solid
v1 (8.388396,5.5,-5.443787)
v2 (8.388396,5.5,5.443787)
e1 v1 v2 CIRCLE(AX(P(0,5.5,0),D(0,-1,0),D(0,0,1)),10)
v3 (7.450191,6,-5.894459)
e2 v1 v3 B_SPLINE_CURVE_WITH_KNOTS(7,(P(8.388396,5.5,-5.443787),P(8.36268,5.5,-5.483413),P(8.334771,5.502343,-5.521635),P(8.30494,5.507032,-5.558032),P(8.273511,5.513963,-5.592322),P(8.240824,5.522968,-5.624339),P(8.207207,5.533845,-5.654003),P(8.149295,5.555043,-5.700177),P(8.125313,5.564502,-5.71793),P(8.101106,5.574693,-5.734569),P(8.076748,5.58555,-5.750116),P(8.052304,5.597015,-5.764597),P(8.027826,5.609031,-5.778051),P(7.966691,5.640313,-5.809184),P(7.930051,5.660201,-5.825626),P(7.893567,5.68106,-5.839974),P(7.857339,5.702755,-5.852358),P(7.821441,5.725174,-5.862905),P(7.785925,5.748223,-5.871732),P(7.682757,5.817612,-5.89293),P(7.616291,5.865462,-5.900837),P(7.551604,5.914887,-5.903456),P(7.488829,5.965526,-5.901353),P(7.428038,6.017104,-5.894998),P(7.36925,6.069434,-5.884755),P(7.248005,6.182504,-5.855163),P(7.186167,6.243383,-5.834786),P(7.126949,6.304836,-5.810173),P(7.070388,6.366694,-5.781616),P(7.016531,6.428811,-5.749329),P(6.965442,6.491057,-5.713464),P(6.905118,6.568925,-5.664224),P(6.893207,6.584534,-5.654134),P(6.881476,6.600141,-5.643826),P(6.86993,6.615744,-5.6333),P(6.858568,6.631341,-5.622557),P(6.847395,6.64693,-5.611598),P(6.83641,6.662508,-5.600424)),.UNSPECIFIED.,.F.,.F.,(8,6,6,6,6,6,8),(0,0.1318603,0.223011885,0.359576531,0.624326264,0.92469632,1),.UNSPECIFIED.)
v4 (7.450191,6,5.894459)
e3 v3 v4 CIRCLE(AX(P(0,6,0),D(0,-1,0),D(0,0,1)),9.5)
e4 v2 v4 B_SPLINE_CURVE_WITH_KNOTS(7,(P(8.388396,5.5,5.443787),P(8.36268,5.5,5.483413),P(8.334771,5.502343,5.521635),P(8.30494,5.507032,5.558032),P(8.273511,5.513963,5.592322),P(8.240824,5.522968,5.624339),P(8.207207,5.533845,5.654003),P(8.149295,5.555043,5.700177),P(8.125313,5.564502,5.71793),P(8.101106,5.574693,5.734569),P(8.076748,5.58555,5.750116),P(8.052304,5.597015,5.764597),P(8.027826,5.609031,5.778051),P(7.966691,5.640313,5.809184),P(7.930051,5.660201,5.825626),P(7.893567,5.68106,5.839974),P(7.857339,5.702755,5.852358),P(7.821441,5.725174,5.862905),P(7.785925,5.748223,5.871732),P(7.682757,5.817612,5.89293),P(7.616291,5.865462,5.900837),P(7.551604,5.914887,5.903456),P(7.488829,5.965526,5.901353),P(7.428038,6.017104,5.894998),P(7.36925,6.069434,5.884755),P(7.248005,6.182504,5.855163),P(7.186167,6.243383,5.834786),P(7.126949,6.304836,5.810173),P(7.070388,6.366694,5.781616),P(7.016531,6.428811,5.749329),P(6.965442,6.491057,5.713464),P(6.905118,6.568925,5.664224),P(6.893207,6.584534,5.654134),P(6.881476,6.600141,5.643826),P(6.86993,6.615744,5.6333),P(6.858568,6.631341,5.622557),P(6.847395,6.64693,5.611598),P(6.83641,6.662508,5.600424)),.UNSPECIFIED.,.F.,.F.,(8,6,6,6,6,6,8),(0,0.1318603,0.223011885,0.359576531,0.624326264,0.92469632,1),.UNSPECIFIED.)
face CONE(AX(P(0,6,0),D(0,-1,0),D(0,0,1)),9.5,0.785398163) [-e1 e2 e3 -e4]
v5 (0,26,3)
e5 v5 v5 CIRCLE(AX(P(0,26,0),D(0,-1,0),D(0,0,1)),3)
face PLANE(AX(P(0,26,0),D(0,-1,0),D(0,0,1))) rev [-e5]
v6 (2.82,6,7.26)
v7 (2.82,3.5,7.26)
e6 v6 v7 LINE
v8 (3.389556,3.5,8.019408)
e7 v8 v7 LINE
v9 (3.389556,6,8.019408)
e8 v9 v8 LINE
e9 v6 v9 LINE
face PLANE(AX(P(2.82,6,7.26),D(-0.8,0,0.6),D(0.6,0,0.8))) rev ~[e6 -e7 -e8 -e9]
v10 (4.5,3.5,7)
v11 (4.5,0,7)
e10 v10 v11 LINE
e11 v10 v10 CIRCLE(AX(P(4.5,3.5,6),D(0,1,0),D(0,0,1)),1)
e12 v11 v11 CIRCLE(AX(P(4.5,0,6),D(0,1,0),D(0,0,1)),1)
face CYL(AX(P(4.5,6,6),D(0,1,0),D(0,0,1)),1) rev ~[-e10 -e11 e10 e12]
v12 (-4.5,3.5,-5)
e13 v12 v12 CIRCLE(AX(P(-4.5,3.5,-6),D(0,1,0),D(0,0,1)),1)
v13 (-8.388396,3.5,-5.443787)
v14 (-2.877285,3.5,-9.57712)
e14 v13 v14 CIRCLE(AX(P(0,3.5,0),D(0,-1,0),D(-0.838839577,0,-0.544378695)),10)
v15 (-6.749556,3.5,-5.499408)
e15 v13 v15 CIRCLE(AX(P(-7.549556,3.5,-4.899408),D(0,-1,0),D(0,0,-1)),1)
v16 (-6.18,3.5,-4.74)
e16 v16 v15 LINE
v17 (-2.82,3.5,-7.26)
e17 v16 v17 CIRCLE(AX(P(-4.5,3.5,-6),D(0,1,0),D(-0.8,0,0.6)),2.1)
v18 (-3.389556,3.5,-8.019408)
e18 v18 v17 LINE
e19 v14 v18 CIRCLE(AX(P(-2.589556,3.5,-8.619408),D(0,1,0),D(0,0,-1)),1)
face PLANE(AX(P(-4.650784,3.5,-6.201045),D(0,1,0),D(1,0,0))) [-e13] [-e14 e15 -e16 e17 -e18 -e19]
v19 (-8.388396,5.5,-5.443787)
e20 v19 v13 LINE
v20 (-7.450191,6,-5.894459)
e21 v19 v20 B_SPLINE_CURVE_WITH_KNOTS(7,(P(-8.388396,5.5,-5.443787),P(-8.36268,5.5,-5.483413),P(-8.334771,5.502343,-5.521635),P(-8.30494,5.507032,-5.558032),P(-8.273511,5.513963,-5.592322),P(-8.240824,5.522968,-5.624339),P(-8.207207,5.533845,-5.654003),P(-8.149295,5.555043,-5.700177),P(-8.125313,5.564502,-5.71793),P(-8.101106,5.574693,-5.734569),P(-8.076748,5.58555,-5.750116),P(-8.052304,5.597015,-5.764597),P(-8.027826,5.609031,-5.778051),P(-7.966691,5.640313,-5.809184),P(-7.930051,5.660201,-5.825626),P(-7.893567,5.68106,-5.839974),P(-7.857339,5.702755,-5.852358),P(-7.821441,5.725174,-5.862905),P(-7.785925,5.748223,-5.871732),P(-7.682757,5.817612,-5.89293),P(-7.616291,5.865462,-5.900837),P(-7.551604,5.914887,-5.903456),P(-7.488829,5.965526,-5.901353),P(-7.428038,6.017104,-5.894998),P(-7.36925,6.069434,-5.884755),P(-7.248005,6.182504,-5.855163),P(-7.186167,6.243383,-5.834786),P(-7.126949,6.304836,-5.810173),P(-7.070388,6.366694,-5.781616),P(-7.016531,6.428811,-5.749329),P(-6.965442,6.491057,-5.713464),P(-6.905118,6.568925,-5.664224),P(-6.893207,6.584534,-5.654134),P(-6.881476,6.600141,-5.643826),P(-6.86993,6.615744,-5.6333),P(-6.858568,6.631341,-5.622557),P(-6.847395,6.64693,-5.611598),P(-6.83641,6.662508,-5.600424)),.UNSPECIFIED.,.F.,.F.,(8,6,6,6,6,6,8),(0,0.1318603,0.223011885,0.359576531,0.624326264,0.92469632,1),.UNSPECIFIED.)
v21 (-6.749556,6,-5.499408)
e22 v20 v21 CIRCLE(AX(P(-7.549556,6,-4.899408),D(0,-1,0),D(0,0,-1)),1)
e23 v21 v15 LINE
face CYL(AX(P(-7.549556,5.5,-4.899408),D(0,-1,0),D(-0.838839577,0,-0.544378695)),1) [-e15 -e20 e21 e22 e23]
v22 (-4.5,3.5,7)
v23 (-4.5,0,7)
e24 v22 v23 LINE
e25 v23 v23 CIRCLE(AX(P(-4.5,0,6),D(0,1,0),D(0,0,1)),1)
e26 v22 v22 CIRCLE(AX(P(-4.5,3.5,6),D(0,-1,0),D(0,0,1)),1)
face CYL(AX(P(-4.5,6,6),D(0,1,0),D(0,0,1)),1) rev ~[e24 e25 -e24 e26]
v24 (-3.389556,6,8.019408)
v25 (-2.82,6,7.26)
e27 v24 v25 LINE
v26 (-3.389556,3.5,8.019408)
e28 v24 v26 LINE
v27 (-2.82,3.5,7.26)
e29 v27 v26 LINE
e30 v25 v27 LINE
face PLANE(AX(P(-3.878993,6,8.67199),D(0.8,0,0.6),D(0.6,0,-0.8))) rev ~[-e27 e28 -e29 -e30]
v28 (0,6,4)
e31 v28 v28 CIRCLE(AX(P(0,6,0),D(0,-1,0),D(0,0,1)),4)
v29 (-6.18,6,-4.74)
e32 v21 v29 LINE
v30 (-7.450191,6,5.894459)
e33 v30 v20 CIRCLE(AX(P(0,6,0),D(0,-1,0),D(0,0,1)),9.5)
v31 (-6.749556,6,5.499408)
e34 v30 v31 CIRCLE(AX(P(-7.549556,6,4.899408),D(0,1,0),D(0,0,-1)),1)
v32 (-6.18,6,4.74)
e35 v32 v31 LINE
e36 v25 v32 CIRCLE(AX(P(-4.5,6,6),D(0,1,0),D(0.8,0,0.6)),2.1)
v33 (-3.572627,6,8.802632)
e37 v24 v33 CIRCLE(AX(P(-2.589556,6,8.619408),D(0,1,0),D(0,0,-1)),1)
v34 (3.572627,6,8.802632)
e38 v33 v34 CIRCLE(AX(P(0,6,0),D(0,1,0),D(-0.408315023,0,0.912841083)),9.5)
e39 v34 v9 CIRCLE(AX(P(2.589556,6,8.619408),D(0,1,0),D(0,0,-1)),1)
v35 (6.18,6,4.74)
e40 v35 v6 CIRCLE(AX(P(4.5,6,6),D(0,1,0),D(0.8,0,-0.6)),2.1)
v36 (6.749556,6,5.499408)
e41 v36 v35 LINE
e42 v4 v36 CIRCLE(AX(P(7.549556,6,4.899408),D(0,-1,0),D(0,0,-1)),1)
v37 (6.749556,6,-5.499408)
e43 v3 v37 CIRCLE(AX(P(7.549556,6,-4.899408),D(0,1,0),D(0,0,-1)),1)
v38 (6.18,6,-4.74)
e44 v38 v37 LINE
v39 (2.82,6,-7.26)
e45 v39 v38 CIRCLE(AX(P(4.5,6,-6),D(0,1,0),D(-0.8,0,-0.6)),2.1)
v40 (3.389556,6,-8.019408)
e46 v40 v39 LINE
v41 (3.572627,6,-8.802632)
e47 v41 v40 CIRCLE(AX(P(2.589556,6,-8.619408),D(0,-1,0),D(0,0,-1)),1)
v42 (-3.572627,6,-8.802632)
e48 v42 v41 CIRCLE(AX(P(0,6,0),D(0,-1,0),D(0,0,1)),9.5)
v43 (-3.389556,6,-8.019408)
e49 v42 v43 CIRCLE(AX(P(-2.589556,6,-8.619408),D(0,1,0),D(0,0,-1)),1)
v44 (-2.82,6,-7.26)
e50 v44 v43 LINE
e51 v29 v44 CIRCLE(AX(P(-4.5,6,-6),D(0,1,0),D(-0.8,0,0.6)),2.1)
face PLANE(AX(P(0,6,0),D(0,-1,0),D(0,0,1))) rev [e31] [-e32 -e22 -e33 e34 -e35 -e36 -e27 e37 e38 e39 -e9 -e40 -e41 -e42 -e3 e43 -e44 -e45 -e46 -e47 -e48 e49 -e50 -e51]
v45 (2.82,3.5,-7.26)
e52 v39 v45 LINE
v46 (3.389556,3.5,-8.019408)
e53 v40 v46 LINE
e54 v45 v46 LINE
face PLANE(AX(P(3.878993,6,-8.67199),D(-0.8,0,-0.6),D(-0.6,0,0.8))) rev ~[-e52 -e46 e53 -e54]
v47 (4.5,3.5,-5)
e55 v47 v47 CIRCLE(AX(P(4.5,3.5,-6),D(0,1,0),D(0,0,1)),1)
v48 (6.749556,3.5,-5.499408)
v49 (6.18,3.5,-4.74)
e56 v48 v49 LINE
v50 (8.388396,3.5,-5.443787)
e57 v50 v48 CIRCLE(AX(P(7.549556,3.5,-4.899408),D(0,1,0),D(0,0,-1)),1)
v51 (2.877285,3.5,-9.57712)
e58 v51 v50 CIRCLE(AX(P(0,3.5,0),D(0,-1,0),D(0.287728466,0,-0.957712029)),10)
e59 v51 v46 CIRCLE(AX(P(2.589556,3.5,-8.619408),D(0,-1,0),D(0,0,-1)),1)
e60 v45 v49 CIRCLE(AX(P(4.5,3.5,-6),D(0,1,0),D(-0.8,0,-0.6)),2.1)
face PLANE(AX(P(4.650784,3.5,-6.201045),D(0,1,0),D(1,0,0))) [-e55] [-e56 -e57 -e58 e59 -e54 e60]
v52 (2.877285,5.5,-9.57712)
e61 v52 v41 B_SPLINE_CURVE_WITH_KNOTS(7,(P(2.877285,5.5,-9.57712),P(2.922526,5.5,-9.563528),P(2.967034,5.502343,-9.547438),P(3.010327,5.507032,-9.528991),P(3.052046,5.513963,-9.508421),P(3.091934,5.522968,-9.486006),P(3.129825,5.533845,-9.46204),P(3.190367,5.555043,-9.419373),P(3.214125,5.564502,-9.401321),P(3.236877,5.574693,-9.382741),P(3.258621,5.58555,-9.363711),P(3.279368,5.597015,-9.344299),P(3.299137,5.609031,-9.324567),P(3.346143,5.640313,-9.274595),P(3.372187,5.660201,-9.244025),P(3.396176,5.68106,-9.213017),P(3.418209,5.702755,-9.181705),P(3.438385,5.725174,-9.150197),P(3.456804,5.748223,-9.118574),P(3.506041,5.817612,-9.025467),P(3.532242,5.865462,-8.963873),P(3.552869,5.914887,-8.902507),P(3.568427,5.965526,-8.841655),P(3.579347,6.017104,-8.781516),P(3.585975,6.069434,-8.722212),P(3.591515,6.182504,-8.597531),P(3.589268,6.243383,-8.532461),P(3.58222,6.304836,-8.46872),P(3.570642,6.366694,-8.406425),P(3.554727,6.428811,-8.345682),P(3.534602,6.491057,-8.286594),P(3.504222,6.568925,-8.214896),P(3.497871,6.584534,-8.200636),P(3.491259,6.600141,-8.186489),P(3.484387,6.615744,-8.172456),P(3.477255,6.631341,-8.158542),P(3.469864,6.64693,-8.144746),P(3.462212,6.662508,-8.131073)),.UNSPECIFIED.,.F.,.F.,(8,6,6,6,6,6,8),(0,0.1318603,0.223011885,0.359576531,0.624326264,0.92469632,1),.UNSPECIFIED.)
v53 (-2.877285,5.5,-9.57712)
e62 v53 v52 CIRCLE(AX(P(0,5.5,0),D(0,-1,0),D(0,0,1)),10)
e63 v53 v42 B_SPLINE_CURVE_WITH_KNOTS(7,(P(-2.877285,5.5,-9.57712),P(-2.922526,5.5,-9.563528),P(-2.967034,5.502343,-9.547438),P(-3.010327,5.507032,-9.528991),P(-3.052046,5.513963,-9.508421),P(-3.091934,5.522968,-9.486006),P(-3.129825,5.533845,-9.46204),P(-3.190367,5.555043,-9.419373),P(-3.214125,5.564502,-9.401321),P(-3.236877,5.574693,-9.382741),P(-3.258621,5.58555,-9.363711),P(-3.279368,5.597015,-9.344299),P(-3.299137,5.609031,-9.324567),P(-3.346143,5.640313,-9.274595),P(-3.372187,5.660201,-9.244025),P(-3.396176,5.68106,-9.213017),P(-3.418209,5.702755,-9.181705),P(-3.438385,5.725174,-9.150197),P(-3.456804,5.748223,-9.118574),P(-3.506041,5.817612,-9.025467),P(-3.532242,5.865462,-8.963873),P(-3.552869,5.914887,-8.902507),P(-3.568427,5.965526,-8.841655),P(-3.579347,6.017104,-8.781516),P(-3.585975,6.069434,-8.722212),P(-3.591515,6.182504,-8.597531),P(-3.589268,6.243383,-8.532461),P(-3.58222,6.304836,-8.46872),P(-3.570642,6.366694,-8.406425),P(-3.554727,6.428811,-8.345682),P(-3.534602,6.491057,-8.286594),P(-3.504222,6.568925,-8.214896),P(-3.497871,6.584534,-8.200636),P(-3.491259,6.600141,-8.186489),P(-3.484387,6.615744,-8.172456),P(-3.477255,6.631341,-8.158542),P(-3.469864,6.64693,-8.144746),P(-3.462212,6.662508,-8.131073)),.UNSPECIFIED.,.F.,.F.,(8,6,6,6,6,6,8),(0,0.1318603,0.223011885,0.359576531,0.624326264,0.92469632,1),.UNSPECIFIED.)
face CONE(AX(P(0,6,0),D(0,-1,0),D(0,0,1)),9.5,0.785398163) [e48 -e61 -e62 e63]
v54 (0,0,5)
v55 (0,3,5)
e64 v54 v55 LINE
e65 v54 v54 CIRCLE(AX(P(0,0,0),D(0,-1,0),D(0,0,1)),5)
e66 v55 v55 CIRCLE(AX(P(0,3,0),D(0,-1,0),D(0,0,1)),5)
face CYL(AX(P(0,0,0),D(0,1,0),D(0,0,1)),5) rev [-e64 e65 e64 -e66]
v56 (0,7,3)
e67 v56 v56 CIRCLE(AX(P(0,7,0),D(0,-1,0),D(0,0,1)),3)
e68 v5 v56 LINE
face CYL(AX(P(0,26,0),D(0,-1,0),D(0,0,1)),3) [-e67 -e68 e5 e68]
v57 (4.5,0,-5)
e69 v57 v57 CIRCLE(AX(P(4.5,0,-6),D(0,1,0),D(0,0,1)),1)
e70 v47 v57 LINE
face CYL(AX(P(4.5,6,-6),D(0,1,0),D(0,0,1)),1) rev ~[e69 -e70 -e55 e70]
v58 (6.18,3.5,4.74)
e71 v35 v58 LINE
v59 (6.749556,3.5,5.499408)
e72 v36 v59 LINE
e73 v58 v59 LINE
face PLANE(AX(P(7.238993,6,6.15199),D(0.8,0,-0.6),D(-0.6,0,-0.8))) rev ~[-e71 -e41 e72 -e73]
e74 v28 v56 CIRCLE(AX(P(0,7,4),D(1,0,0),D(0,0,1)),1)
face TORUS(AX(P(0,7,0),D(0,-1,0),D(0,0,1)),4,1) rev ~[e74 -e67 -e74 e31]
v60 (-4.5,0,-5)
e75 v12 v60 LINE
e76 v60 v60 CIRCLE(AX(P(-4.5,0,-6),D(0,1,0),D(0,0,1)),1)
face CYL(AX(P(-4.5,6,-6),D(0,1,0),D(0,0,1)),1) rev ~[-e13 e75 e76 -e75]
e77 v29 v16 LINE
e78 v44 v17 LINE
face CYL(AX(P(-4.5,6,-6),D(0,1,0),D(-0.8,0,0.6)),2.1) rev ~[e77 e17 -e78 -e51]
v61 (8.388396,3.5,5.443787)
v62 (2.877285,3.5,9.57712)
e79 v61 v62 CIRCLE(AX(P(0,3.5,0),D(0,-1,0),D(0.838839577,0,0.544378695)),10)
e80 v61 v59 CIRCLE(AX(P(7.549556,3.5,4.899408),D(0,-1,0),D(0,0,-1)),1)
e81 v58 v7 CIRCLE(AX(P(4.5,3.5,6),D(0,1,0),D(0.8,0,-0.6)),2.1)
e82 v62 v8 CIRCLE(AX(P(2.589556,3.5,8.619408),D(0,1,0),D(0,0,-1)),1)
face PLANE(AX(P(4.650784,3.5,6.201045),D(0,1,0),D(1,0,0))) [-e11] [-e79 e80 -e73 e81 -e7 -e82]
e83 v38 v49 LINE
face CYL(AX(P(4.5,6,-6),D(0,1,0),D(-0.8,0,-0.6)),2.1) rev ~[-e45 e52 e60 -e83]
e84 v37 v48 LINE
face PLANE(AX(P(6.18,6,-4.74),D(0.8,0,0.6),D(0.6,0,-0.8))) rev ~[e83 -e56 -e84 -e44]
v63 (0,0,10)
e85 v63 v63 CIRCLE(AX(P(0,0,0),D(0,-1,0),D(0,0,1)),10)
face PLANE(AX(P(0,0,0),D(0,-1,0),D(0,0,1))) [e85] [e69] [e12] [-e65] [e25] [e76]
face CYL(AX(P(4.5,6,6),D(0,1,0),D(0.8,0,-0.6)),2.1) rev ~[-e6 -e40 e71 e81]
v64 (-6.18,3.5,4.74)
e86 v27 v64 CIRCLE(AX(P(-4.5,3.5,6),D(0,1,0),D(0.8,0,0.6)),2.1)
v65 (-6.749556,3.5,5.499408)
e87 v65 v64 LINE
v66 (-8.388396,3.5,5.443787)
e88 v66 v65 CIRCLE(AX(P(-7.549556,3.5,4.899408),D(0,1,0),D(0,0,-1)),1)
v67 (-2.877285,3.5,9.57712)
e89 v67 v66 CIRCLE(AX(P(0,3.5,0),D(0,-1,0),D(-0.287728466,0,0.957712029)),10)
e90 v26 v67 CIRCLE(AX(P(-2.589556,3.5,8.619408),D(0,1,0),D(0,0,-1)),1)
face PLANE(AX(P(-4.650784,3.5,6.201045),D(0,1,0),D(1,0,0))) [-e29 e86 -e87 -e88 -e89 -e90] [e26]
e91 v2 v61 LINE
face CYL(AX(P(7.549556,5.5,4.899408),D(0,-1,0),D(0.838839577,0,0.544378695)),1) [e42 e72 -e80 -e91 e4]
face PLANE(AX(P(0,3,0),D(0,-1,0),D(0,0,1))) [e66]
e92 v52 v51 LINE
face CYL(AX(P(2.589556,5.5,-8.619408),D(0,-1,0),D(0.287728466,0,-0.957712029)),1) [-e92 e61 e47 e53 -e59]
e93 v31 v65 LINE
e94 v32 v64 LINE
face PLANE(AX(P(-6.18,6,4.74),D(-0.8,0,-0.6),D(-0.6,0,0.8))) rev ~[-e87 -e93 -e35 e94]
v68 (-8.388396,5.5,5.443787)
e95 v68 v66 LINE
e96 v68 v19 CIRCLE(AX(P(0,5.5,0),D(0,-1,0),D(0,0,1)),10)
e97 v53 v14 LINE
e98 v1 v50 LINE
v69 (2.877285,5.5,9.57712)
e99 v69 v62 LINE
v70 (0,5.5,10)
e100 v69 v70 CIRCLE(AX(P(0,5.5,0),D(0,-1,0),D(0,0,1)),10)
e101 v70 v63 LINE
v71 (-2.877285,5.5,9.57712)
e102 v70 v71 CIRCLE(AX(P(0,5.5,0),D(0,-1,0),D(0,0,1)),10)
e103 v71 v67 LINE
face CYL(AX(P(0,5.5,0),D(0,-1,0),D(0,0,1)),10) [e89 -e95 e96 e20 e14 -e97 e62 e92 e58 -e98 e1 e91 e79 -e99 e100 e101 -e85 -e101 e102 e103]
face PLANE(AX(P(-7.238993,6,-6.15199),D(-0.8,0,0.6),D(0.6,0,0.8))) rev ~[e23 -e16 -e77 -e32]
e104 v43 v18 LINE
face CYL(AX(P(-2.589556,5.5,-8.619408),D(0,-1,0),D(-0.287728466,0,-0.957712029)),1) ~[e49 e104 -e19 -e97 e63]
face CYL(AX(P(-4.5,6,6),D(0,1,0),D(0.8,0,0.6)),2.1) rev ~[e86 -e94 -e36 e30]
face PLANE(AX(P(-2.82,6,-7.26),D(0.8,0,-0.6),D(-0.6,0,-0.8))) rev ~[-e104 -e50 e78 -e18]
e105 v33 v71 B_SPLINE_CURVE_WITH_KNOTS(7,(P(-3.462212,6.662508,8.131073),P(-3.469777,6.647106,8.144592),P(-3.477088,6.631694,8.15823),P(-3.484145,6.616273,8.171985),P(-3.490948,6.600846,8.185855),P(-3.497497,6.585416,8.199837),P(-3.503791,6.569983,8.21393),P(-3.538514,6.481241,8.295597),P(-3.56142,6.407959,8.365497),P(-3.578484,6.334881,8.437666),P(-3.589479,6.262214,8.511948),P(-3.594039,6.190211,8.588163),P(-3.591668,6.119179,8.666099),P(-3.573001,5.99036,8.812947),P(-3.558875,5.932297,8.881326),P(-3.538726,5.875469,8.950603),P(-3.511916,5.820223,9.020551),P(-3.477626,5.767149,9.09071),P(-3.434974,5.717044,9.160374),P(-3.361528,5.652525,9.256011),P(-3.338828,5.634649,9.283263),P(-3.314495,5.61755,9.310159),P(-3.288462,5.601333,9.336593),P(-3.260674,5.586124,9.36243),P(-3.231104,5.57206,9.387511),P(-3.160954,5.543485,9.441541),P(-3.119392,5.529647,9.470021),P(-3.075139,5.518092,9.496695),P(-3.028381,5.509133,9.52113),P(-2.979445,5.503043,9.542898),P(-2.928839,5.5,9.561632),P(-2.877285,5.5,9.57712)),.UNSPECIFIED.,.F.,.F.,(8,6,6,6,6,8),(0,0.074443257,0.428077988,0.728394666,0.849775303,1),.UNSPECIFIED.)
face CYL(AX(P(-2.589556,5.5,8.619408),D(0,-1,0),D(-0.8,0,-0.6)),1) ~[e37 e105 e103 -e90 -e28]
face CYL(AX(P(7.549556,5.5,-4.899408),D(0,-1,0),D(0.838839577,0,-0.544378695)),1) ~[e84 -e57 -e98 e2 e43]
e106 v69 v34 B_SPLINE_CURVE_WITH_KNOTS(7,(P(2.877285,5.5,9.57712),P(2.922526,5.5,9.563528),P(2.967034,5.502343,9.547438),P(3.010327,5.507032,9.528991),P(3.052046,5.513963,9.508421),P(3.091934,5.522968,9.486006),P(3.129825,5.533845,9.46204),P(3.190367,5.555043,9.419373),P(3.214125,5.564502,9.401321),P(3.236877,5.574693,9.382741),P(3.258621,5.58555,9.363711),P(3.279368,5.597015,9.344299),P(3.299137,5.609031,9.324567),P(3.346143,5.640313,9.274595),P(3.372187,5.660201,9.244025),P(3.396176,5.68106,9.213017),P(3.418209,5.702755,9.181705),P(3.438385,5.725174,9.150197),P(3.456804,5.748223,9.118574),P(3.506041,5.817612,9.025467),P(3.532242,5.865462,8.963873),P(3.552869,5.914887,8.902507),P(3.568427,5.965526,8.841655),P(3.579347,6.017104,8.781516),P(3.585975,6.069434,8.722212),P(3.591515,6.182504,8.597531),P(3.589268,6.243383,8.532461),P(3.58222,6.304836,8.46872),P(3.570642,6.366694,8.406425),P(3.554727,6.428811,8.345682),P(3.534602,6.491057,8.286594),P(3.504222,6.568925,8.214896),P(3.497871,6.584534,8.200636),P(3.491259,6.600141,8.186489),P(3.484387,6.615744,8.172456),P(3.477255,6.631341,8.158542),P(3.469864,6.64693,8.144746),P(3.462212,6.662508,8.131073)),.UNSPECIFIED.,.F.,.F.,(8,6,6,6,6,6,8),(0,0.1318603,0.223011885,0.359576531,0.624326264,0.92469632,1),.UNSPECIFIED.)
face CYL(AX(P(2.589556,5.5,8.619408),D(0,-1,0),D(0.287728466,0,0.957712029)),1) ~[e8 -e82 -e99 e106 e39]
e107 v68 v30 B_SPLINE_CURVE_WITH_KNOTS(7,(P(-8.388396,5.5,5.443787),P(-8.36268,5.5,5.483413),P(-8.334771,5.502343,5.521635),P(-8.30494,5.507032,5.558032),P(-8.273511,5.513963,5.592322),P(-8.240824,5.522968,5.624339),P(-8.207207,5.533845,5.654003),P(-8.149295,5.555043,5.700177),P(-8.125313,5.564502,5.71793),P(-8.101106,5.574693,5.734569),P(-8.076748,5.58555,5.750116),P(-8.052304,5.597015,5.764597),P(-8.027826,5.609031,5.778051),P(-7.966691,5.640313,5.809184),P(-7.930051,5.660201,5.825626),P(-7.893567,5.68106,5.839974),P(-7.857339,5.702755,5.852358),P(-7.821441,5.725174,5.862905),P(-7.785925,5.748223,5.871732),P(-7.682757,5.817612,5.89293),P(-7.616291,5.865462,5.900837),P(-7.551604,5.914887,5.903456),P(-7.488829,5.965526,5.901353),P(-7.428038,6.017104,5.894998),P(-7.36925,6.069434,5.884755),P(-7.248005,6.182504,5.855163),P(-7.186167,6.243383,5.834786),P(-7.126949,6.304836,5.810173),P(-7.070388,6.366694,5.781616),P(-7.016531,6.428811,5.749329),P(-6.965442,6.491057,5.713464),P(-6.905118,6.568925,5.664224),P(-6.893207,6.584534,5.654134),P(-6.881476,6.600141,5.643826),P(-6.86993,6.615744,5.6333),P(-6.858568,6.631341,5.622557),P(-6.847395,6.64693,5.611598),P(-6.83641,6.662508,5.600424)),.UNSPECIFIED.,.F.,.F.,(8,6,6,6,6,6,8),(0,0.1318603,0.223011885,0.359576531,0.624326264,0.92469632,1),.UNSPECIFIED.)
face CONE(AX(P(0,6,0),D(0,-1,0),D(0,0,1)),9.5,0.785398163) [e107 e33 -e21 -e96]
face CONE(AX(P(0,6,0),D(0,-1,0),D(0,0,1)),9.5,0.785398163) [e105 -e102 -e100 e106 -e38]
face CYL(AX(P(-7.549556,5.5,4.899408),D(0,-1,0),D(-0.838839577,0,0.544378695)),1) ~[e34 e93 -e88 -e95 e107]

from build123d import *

# Parameters (mm, degrees)
SKETCH_2_R          = 1.0000000000000002
SKETCH_2_R_2        = 0.9999999999999998
CUT_EXTRUDE_1_DEPTH = 10
SKETCH_3_R          = 1.0000000000000002
SKETCH_3_R_2        = 0.9999999999999998
CUT_EXTRUDE_2_DEPTH = 2.5
FILLET_1_R          = 1
FILLET_2_R          = 1


with BuildPart() as part:
    # 草图1 → 旋转1 (revolve)
    with BuildSketch(Plane.XY, mode=Mode.PRIVATE) as revolve_1_sk:
        Polygon((-1.97e-15, 26), (2.999999999999997, 26), (3, 6), (9.5, 5.999999999999999), (10.000000000000002, 5.5), (10, -1.2e-16), (5.000000000000001, -6.1e-16), (5.000000000000002, 2.9999999999999996), (8.7e-16, 2.999999999999999), align=None)
    revolve(revolve_1_sk.sketch.rotate(Axis((0, 9.947317903416637, 0), (0, -1, 0)), 90), axis=Axis((0, 9.947317903416637, 0), (0, -1, 0)))

    # 草图2 → 切除-拉伸1 (cut)
    with BuildSketch(Plane(origin=(0, 6, 0), x_dir=(1, 0, 0), z_dir=(0, 1, 0))):
        with Locations(Location((-4.5, 6.000000000000001, 0), (0, 0, 270))):
            Circle(SKETCH_2_R)
        with Locations(Location((4.5, 6.000000000000003, 0), (0, 0, 270))):
            Circle(SKETCH_2_R_2)
        with Locations(Location((4.5, -5.999999999999997, 0), (0, 0, 270))):
            Circle(SKETCH_2_R_2)
        with Locations(Location((-4.5, -5.999999999999999, 0), (0, 0, 270))):
            Circle(SKETCH_2_R)
    extrude(amount=-CUT_EXTRUDE_1_DEPTH, mode=Mode.SUBTRACT)

    # 草图3 → 切除-拉伸2 (cut)
    # profile 1 of 8: a face of its own
    with BuildSketch(Plane(origin=(0, 6, 0), x_dir=(1, 0, 0), z_dir=(0, 1, 0))):
        with BuildLine():
            Line((-9.157565431651806, 8.710087242202405), (-7.2389927145122455, 6.151990286016327))
            ThreePointArc((-7.2389927145121735, 6.151990286016362), (-5.700000000000015, 7.599999999999989), (-3.8789927145123357, 8.67199028601625))
            Line((-3.8789927145122554, 8.67199028601634), (-5.797565431651803, 11.230087242202407))
            Line((-5.797565431651803, 11.230087242202407), (-9.157565431651806, 8.710087242202405))
        make_face()
    # profile 2 of 8: a face of its own
    with BuildSketch(Plane(origin=(0, 6, 0), x_dir=(1, 0, 0), z_dir=(0, 1, 0))):
        with BuildLine():
            ThreePointArc((-3.8789927145123357, 8.67199028601625), (-5.700000000000015, 7.599999999999989), (-7.2389927145121735, 6.151990286016362))
            Line((-7.2389927145122455, 6.151990286016327), (-6.18, 4.739999999999999))
            ThreePointArc((-6.18, 4.739999999999998), (-3.24, 4.3199999999999985), (-2.819999999999999, 7.259999999999998))
            Line((-2.819999999999999, 7.259999999999998), (-3.8789927145122554, 8.67199028601634))
        make_face()
        with Locations(Location((-4.5, 6.000000000000001, 0), (0, 0, 270))):
            Circle(SKETCH_3_R, mode=Mode.SUBTRACT)
    # profile 3 of 8: a face of its own
    with BuildSketch(Plane(origin=(0, 6, 0), x_dir=(1, 0, 0), z_dir=(0, 1, 0))):
        with BuildLine():
            ThreePointArc((7.2389927145121815, 6.1519902860163524), (5.700000000000022, 7.599999999999984), (3.878992714512337, 8.67199028601625))
            Line((3.8789927145122567, 8.671990286016342), (2.819999999999999, 7.259999999999998))
            ThreePointArc((2.8199999999999985, 7.259999999999998), (3.24, 4.319999999999999), (6.18, 4.739999999999999))
            Line((6.18, 4.739999999999999), (7.238992714512243, 6.151990286016323))
        make_face()
        with Locations(Location((4.5, 6.000000000000003, 0), (0, 0, 270))):
            Circle(SKETCH_3_R_2, mode=Mode.SUBTRACT)
    # profile 4 of 8: a face of its own
    with BuildSketch(Plane(origin=(0, 6, 0), x_dir=(1, 0, 0), z_dir=(0, 1, 0))):
        with BuildLine():
            Line((5.797565431651803, 11.230087242202407), (3.8789927145122567, 8.671990286016342))
            ThreePointArc((3.878992714512337, 8.67199028601625), (5.700000000000022, 7.599999999999984), (7.2389927145121815, 6.1519902860163524))
            Line((7.238992714512243, 6.151990286016323), (9.157565431651806, 8.710087242202405))
            Line((9.157565431651806, 8.710087242202405), (5.797565431651803, 11.230087242202407))
        make_face()
    # profile 5 of 8: a face of its own
    with BuildSketch(Plane(origin=(0, 6, 0), x_dir=(1, 0, 0), z_dir=(0, 1, 0))):
        with BuildLine():
            Line((2.819999999999999, -7.259999999999998), (3.8789927145122527, -8.671990286016337))
            ThreePointArc((3.8789927145123175, -8.671990286016259), (5.700000000000012, -7.599999999999992), (7.238992714512178, -6.151990286016356))
            Line((7.238992714512243, -6.151990286016323), (6.18, -4.739999999999999))
            ThreePointArc((6.18, -4.739999999999999), (3.24, -4.319999999999999), (2.8199999999999985, -7.259999999999998))
        make_face()
        with Locations(Location((4.5, -5.999999999999997, 0), (0, 0, 270))):
            Circle(SKETCH_3_R_2, mode=Mode.SUBTRACT)
    # profile 6 of 8: a face of its own
    with BuildSketch(Plane(origin=(0, 6, 0), x_dir=(1, 0, 0), z_dir=(0, 1, 0))):
        with BuildLine():
            ThreePointArc((7.238992714512178, -6.151990286016356), (5.700000000000012, -7.599999999999992), (3.8789927145123175, -8.671990286016259))
            Line((3.8789927145122527, -8.671990286016337), (5.797565431651803, -11.230087242202407))
            Line((5.797565431651803, -11.230087242202407), (9.157565431651806, -8.710087242202405))
            Line((9.157565431651806, -8.710087242202405), (7.238992714512243, -6.151990286016323))
        make_face()
    # profile 7 of 8: a face of its own
    with BuildSketch(Plane(origin=(0, 6, 0), x_dir=(1, 0, 0), z_dir=(0, 1, 0))):
        with BuildLine():
            ThreePointArc((-2.819999999999999, -7.259999999999998), (-2.4211060633115498, -5.703015151901651), (-3.239999999999995, -4.320000000000003))
            ThreePointArc((-3.239999999999995, -4.320000000000003), (-4.796984848098346, -3.921106063311549), (-6.18, -4.739999999999998))
            Line((-6.18, -4.739999999999999), (-7.238992714512246, -6.151990286016328))
            ThreePointArc((-7.238992714512174, -6.15199028601636), (-5.7000000000000135, -7.59999999999999), (-3.8789927145123286, -8.671990286016255))
            Line((-3.8789927145122527, -8.671990286016337), (-2.819999999999999, -7.259999999999998))
        make_face()
        with BuildLine():
            ThreePointArc((-3.5, -5.999999999999999), (-5.3944271909999175, -6.447213595499955), (-3.899999999999996, -5.200000000000002))
            ThreePointArc((-3.899999999999996, -5.200000000000002), (-3.605572809000083, -5.5527864045000435), (-3.5, -5.999999999999999))
        make_face(mode=Mode.SUBTRACT)
    # profile 8 of 8: a face of its own
    with BuildSketch(Plane(origin=(0, 6, 0), x_dir=(1, 0, 0), z_dir=(0, 1, 0))):
        with BuildLine():
            ThreePointArc((-3.8789927145123286, -8.671990286016255), (-5.7000000000000135, -7.59999999999999), (-7.238992714512174, -6.15199028601636))
            Line((-7.238992714512246, -6.151990286016328), (-9.157565431651806, -8.710087242202405))
            Line((-9.157565431651806, -8.710087242202405), (-5.797565431651803, -11.230087242202407))
            Line((-5.797565431651803, -11.230087242202407), (-3.8789927145122527, -8.671990286016337))
        make_face()
    extrude(amount=-CUT_EXTRUDE_2_DEPTH, mode=Mode.SUBTRACT)

    # 圆角1
    fillet_1_edges = [part.edges().sort_by_distance(p)[0] for p in [
        (7.5462083154282915, 4.5, -6.56161108723772),
        (4.18620831542829, 4.5, -9.08161108723772),
        (4.18620831542829, 4.5, 9.08161108723772),
        (7.5462083154282915, 4.5, 6.561611087237719),
        (-4.18620831542829, 4.5, 9.08161108723772),
        (-7.546208315428291, 4.5, 6.56161108723772),
        (-7.54620831542829, 4.5, -6.561611087237719),
        (-4.186208315428289, 4.5, -9.08161108723772),
    ]]
    fillet(fillet_1_edges, radius=FILLET_1_R)

    # 圆角2
    fillet_2_edges = [part.edges().sort_by_distance(p)[0] for p in [
        (-7e-16, 6, -3),
    ]]
    fillet(fillet_2_edges, radius=FILLET_2_R)


solid = part.part
